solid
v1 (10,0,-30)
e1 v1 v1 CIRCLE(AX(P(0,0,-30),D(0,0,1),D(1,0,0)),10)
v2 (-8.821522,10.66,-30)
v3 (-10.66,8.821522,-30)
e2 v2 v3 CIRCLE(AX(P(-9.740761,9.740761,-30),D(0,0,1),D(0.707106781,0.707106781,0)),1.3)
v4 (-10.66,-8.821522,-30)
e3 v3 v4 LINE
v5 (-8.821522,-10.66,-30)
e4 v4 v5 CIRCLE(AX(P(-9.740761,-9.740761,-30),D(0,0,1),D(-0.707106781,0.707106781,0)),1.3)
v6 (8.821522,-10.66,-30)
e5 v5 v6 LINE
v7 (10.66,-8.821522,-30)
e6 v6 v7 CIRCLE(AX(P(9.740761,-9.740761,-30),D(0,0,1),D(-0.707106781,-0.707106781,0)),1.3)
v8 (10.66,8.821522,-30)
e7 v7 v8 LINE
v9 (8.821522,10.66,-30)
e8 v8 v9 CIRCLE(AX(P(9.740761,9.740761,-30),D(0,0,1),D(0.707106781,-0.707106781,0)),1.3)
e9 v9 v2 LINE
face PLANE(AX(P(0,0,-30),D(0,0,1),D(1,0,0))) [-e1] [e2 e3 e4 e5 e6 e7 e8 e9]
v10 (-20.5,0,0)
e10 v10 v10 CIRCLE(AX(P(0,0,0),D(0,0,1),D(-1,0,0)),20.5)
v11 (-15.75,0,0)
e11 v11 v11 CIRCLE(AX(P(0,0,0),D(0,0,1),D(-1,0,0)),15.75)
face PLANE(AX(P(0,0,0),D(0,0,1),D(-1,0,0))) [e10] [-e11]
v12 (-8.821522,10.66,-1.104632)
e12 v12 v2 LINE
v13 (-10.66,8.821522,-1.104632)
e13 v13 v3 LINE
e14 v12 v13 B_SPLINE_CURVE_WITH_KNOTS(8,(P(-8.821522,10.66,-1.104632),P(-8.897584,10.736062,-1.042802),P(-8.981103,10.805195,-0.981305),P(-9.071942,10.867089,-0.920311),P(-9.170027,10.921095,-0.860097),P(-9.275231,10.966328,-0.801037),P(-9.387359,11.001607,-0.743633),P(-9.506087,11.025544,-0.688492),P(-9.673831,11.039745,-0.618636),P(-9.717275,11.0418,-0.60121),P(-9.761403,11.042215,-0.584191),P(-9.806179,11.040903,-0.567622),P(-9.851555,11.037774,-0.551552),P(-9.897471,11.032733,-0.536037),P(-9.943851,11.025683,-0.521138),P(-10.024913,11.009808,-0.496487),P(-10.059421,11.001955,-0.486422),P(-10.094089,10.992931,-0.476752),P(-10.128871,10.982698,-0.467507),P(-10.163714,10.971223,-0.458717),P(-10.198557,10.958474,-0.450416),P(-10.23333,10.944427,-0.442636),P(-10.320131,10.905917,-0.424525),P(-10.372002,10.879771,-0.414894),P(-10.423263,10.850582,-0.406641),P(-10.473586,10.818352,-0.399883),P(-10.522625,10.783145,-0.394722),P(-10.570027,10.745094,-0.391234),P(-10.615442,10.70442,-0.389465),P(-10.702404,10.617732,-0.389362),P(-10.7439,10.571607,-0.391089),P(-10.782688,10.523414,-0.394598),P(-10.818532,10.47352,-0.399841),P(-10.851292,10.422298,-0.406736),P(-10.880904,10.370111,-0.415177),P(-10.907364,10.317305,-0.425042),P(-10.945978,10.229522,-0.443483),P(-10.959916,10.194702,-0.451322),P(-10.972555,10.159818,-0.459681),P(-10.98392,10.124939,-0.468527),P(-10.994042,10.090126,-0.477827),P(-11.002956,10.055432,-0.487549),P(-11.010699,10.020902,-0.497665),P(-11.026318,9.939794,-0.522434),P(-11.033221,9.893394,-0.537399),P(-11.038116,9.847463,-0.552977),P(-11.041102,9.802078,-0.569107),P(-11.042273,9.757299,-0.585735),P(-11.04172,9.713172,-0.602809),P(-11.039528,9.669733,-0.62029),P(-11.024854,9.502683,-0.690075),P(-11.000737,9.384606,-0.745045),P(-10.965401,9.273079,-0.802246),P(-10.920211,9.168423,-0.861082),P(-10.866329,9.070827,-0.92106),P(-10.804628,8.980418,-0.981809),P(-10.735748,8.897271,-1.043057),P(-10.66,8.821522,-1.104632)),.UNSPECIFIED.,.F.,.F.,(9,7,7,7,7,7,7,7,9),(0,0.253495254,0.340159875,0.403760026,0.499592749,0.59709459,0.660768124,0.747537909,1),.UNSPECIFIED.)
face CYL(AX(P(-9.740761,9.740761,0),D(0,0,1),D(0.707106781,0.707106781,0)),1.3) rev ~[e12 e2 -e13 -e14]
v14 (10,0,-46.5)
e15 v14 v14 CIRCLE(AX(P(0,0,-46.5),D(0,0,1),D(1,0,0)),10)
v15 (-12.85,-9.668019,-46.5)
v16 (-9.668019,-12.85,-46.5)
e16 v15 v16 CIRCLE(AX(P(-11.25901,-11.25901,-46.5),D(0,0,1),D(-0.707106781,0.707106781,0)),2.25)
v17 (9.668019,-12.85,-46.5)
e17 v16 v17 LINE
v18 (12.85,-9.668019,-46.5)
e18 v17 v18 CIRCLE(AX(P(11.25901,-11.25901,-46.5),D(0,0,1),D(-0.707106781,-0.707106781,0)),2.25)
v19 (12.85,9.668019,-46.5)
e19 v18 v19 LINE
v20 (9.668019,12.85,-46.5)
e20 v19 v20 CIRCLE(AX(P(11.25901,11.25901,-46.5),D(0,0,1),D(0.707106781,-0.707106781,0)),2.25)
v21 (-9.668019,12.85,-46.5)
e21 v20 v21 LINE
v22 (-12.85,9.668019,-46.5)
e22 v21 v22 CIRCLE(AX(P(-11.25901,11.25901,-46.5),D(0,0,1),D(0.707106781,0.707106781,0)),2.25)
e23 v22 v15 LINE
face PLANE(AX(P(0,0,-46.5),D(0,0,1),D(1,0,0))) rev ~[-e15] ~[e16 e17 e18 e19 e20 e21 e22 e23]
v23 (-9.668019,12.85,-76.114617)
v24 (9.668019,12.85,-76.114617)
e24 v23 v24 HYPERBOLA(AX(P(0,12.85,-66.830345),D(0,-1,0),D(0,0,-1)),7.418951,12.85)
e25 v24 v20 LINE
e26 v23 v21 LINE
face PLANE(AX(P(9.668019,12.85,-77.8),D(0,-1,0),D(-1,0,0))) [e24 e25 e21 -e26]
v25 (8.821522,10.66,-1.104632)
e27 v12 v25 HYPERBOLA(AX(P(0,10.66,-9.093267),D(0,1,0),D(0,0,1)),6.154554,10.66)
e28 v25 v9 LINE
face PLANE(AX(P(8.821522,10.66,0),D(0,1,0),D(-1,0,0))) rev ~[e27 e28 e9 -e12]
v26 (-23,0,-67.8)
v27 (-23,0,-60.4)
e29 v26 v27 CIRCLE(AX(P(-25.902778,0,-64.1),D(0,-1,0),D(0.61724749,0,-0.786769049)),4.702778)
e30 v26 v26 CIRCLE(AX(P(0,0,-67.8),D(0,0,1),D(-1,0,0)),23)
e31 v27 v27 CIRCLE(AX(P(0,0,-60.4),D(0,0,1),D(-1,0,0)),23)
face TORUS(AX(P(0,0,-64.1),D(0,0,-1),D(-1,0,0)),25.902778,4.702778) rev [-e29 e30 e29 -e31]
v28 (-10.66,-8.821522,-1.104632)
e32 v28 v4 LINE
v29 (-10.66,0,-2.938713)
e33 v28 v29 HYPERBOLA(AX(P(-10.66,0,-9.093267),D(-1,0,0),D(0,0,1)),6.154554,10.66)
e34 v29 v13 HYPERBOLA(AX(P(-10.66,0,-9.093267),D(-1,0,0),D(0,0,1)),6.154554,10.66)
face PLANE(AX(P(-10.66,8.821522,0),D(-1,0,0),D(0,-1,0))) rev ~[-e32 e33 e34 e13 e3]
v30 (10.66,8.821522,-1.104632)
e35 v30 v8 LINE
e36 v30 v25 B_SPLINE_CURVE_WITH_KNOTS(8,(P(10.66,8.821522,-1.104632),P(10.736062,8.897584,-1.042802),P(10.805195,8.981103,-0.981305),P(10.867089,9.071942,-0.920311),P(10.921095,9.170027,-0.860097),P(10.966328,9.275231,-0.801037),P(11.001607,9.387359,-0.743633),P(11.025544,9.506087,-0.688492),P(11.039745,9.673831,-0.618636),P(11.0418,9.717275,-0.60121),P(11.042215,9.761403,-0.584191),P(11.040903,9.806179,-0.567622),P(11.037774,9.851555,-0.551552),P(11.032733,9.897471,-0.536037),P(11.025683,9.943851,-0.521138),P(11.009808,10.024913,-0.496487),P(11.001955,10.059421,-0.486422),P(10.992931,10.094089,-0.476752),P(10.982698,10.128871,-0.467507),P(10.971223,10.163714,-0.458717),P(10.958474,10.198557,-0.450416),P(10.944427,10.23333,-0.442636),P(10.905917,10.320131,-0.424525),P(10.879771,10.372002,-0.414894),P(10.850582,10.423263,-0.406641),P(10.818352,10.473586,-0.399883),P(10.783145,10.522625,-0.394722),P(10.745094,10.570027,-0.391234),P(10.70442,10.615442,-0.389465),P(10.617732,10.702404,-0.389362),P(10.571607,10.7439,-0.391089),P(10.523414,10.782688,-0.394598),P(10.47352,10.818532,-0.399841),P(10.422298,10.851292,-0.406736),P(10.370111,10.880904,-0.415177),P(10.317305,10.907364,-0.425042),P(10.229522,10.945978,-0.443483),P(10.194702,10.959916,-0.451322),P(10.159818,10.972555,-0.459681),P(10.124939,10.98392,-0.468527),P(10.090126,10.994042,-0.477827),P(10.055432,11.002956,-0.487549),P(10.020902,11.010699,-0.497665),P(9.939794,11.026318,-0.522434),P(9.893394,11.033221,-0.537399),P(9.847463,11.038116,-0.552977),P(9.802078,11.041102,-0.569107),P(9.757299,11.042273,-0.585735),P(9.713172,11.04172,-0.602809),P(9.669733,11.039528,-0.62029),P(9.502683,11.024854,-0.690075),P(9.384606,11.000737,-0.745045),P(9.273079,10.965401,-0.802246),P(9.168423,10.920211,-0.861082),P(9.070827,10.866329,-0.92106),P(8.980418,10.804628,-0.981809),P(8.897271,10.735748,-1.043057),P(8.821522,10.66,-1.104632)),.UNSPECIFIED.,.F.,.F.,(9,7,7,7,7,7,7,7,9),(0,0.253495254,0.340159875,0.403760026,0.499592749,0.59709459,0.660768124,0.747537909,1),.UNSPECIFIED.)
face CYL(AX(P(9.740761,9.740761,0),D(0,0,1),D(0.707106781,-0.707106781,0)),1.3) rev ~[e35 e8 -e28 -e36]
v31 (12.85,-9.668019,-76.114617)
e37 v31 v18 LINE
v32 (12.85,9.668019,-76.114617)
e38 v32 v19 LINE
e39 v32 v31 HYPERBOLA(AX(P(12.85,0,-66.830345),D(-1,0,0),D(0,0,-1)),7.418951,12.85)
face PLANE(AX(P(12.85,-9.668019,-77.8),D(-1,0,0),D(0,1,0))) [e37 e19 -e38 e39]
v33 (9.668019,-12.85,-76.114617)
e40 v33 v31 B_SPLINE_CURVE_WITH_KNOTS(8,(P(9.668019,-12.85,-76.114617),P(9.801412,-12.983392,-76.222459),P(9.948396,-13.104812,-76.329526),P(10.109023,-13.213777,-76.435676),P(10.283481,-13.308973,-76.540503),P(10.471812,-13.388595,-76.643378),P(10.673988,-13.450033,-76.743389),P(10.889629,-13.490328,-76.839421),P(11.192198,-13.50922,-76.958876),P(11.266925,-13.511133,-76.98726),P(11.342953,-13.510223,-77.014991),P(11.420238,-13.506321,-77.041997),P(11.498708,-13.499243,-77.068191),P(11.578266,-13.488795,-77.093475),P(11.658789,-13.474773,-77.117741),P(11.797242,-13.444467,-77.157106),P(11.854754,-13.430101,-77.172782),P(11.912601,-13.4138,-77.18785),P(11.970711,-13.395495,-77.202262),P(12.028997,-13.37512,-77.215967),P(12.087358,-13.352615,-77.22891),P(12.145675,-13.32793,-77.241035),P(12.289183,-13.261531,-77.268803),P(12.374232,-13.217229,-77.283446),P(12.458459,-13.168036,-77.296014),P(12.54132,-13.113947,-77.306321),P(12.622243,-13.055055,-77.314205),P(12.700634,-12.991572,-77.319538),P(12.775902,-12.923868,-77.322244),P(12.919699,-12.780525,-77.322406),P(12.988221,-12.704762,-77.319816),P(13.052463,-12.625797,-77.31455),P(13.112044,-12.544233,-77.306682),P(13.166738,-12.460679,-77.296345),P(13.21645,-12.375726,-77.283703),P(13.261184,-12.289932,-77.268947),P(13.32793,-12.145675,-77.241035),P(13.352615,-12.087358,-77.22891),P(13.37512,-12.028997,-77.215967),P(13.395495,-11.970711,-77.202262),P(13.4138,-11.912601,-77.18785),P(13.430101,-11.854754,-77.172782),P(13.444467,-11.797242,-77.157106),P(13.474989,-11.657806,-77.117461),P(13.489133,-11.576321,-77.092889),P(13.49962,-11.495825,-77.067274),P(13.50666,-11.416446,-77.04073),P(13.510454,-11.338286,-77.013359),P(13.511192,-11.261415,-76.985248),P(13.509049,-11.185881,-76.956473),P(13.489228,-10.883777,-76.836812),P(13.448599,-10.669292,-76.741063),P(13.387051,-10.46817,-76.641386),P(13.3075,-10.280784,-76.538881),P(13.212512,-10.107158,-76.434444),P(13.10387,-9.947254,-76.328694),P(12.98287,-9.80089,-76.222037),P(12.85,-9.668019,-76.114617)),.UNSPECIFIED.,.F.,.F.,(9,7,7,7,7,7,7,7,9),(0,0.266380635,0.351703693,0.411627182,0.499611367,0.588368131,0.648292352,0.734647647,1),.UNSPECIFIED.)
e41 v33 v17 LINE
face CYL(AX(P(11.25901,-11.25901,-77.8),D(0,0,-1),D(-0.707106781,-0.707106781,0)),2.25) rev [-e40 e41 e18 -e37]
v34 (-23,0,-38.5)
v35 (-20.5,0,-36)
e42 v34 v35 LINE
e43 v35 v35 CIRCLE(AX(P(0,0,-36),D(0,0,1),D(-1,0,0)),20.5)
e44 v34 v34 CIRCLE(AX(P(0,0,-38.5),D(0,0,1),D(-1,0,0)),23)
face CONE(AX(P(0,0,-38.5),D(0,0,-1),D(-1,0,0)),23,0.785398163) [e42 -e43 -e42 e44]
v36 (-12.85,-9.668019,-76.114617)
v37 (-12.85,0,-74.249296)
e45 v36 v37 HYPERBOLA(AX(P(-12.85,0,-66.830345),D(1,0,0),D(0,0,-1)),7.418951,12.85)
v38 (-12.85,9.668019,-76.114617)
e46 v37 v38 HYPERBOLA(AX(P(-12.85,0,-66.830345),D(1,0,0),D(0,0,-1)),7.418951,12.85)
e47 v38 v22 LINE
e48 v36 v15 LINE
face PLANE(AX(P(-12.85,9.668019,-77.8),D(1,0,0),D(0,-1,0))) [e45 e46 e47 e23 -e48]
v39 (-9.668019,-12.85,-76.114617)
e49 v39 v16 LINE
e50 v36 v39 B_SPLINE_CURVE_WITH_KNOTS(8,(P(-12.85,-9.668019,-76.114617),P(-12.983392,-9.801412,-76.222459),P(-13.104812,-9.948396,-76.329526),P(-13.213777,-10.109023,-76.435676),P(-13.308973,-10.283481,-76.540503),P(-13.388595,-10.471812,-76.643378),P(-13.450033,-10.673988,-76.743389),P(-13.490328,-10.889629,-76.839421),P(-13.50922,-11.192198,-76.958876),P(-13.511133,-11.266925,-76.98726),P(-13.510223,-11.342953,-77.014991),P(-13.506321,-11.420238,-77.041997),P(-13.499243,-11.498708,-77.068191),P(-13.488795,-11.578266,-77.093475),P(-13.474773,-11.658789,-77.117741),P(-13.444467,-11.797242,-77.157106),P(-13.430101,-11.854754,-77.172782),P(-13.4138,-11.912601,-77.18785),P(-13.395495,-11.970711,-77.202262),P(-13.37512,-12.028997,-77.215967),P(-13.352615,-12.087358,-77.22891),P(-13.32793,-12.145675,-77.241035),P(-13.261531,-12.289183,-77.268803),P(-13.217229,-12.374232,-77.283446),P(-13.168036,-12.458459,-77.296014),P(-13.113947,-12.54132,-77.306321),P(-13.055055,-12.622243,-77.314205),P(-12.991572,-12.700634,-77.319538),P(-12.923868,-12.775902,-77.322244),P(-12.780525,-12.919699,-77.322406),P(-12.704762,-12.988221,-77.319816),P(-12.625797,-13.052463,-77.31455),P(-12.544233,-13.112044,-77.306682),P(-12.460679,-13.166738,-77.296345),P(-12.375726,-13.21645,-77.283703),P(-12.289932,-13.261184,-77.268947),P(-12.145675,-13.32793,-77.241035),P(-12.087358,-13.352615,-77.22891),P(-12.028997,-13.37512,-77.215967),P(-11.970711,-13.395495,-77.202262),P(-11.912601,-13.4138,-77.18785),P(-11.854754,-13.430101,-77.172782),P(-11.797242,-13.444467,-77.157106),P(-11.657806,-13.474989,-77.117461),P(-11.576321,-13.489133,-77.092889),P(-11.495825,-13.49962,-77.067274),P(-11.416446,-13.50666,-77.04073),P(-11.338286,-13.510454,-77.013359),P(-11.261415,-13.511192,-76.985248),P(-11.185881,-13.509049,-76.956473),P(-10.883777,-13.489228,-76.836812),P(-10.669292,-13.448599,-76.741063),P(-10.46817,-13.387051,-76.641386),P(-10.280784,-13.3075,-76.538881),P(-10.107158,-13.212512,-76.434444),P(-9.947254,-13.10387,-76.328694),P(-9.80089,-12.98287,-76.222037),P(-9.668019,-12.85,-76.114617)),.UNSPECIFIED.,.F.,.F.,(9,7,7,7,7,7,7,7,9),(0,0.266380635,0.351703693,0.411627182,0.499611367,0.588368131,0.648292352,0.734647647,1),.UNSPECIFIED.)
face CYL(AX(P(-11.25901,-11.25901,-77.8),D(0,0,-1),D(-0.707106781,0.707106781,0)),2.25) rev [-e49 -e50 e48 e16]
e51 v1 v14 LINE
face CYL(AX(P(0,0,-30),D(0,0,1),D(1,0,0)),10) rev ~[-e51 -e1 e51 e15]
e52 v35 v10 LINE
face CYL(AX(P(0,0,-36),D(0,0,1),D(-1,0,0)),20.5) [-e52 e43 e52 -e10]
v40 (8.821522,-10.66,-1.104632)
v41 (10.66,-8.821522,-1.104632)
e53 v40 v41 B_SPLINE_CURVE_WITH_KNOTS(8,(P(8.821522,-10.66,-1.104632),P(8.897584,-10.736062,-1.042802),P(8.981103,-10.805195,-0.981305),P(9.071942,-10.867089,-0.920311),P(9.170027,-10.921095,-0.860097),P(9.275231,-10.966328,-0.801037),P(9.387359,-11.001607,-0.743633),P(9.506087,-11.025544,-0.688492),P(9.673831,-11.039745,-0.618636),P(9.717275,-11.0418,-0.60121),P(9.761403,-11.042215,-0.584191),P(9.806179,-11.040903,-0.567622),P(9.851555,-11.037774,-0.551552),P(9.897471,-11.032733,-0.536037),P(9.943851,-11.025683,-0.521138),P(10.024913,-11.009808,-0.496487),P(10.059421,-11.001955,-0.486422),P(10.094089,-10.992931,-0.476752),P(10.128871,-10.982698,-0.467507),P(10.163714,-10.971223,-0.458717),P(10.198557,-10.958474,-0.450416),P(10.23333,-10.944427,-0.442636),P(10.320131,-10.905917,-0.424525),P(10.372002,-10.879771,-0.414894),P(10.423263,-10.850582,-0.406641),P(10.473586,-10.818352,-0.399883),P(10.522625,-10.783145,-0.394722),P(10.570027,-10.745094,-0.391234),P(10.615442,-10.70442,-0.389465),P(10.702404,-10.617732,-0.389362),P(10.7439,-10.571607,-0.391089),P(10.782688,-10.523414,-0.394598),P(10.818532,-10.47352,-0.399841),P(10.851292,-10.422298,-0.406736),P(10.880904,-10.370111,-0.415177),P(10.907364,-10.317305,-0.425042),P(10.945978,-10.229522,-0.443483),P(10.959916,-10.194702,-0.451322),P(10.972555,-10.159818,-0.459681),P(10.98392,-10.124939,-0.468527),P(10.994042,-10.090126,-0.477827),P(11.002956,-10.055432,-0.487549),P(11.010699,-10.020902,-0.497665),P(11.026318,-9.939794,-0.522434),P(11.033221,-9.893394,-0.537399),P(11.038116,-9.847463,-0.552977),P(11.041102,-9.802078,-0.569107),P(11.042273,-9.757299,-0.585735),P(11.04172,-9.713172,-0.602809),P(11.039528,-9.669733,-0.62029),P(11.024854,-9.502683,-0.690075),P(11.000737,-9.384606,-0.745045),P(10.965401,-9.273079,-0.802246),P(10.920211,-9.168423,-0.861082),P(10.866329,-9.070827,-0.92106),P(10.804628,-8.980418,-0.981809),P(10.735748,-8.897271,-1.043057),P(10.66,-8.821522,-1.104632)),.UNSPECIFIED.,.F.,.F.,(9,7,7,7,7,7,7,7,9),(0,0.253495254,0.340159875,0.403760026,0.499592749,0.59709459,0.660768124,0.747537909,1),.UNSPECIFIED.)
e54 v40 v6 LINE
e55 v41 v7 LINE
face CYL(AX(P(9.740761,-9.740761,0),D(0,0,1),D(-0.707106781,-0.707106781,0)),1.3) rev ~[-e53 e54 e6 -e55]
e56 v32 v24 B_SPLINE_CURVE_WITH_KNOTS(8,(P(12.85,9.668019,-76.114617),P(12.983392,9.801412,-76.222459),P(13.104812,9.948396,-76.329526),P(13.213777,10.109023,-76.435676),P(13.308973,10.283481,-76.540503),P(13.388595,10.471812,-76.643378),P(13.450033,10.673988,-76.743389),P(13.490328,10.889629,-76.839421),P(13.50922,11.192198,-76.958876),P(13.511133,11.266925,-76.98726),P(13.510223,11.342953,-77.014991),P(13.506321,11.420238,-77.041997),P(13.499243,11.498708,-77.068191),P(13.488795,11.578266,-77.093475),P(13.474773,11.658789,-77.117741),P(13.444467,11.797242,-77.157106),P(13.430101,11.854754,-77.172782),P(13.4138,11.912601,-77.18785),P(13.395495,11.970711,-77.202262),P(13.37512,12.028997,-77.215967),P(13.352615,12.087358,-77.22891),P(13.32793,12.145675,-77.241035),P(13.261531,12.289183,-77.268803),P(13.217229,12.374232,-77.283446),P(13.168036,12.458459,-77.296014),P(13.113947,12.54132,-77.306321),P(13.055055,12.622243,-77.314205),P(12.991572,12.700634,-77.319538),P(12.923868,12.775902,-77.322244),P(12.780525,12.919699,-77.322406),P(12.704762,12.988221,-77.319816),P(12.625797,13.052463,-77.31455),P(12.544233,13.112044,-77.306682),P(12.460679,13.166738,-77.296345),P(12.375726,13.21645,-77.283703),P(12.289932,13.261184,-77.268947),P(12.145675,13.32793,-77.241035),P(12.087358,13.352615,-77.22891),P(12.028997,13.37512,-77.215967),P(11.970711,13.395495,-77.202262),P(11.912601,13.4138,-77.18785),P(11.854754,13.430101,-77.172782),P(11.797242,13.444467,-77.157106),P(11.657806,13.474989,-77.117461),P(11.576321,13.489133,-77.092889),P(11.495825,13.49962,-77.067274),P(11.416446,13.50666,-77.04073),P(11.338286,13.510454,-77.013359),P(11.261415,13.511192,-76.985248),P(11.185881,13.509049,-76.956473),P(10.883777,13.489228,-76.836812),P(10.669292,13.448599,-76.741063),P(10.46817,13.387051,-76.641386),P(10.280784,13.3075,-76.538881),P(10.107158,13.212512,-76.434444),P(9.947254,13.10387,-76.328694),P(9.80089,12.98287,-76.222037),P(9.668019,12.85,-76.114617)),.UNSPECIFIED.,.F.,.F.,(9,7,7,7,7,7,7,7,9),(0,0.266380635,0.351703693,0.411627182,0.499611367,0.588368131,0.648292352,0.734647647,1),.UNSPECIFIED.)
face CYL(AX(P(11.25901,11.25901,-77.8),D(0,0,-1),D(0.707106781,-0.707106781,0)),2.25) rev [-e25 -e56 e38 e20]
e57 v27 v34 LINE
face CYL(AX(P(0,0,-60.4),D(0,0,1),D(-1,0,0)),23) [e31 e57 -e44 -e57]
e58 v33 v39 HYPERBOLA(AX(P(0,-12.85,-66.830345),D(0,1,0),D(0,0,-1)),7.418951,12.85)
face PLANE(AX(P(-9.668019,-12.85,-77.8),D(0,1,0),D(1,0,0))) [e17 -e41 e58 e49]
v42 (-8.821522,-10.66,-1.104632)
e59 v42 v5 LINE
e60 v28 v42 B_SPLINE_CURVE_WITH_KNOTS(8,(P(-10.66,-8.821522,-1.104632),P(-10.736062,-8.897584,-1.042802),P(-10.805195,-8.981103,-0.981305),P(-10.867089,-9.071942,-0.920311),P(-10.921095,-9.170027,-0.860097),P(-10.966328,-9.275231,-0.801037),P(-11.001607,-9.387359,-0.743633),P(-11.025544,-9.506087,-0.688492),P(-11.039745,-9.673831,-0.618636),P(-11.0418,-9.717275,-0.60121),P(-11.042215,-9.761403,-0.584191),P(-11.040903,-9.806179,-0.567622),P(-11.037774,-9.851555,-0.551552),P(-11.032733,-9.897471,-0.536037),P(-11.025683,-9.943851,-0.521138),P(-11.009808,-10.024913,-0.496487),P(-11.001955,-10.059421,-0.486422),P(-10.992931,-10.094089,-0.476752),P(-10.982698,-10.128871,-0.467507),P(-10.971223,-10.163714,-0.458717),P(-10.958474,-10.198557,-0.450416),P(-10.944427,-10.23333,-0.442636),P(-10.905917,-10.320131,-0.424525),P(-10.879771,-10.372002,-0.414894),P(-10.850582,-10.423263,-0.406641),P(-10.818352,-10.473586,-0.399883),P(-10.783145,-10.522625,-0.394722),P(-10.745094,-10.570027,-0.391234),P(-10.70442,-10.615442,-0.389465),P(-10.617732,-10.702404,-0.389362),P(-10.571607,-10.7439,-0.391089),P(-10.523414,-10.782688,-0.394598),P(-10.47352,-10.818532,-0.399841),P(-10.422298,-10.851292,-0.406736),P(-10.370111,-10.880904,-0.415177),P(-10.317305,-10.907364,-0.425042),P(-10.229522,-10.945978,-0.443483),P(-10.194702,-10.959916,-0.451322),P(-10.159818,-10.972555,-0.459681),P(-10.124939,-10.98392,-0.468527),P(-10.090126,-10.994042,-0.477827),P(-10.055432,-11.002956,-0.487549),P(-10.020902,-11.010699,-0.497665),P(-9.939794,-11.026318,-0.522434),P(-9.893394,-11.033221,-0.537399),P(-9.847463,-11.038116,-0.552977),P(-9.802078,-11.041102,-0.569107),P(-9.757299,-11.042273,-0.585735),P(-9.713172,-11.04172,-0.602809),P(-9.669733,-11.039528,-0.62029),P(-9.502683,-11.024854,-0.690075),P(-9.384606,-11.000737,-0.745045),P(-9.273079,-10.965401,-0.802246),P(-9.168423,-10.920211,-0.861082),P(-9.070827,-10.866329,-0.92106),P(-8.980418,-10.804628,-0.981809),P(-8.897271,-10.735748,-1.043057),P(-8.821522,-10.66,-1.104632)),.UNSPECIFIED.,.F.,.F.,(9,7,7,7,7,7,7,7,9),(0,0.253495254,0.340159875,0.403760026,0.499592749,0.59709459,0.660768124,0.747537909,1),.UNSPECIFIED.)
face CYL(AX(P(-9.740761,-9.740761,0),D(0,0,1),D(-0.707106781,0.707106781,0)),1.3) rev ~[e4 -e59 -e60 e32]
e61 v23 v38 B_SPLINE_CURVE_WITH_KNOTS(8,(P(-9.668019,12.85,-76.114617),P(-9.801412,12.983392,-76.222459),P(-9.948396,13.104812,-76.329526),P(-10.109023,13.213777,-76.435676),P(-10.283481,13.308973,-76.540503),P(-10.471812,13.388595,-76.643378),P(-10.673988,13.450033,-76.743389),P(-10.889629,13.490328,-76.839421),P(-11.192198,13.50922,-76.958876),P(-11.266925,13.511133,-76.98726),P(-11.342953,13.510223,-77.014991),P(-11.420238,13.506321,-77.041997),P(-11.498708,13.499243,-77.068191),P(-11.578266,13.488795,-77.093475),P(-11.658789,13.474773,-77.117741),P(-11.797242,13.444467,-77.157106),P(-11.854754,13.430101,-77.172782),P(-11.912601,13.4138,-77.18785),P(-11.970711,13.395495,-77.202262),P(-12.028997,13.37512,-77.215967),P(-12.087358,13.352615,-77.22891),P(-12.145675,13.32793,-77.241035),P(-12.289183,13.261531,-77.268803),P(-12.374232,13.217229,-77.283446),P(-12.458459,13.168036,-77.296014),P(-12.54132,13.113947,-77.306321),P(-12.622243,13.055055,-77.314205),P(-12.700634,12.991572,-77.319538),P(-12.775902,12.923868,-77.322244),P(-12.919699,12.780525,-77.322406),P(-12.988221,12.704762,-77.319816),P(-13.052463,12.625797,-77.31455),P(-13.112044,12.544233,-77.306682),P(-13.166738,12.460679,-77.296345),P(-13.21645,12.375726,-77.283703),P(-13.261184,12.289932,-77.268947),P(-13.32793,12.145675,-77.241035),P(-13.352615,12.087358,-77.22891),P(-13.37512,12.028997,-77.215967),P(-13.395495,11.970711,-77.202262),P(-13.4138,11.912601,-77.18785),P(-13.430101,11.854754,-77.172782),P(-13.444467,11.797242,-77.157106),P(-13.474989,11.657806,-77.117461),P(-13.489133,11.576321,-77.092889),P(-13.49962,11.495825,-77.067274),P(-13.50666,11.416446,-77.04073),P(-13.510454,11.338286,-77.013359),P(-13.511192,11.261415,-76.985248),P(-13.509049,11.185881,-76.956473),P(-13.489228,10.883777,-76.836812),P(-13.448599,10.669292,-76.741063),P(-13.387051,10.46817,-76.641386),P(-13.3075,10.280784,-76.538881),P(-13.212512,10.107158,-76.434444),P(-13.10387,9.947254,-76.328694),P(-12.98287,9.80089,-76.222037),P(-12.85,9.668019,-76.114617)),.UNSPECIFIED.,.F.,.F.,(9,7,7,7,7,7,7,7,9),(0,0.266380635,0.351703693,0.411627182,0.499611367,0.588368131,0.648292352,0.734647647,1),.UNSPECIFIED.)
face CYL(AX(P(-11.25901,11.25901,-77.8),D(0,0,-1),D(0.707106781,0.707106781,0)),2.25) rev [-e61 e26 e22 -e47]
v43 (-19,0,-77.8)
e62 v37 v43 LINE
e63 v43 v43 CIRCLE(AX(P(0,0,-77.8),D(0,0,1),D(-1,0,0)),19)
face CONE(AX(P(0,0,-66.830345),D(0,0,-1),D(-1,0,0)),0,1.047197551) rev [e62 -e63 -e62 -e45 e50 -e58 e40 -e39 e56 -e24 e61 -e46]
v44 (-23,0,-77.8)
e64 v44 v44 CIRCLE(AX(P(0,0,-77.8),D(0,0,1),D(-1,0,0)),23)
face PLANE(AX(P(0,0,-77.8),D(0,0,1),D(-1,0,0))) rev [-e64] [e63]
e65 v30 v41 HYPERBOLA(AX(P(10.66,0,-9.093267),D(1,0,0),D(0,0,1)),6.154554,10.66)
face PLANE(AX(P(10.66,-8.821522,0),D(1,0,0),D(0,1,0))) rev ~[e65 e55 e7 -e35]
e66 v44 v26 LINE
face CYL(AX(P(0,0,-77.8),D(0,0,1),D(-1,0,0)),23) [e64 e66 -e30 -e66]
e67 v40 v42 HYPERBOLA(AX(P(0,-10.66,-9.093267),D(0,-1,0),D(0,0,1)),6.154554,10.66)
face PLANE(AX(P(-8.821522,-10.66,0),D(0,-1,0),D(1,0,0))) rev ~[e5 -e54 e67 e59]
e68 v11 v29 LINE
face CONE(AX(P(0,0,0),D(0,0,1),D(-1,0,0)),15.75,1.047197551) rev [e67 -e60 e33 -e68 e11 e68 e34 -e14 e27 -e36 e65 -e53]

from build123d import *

# Parameters (mm, degrees)
CUT_EXTRUDE1_DEPTH = 30
SKETCH3_R          = 10
CUT_EXTRUDE2_DEPTH = 30
CUT_EXTRUDE3_DEPTH = 31.3


with BuildPart() as part:
    # Sketch1 → Revolve1 (revolve)
    with BuildSketch(Plane(origin=(0, 0, 0), x_dir=(0, 0, -1), z_dir=(1, 0, 0)), mode=Mode.PRIVATE) as revolve1_sk:
        with BuildLine():
            Line((0, 20.5), (0, 15.75))
            Line((0, 15.75), (9.09326674, 0))
            Line((9.09326674, 0), (66.830344885, 0))
            Line((66.830344885, 0), (77.8, 19))
            Line((77.8, 19), (77.8, 23))
            Line((77.8, 23), (67.8, 23))
            ThreePointArc((67.8, 23), (64.1, 21.2), (60.4, 23))
            Line((60.4, 23), (38.5, 23))
            Line((38.5, 23), (36, 20.5))
            Line((36, 20.5), (0, 20.5))
        make_face()
    revolve(revolve1_sk.sketch.rotate(Axis((0, 0, 0), (0, 0, 1)), 90), axis=Axis((0, 0, 0), (0, 0, 1)))

    # Sketch2 → Cut-Extrude1 (cut)
    with BuildSketch(Plane.XY):
        with BuildLine():
            Line((-10.66, 8.821522369), (-10.66, -8.821522369))
            ThreePointArc((-10.66, -8.821522369), (-10.66, -10.66), (-8.821522369, -10.66))
            Line((-8.821522369, -10.66), (8.821522369, -10.66))
            ThreePointArc((8.821522369, -10.66), (10.66, -10.66), (10.66, -8.821522369))
            Line((10.66, -8.821522369), (10.66, 8.821522369))
            ThreePointArc((10.66, 8.821522369), (10.66, 10.66), (8.821522369, 10.66))
            Line((8.821522369, 10.66), (-8.821522369, 10.66))
            ThreePointArc((-8.821522369, 10.66), (-10.66, 10.66), (-10.66, 8.821522369))
        make_face()
    extrude(amount=-CUT_EXTRUDE1_DEPTH, mode=Mode.SUBTRACT)

    # Sketch3 → Cut-Extrude2 (cut)
    with BuildSketch(Plane.XY.offset(-30)):
        Circle(SKETCH3_R)
    extrude(amount=-CUT_EXTRUDE2_DEPTH, mode=Mode.SUBTRACT)

    # Sketch4 → Cut-Extrude3 (cut)
    with BuildSketch(Plane(origin=(0, 0, -77.8), x_dir=(-1, 0, 0), z_dir=(0, 0, -1))):
        with BuildLine():
            Line((-12.85, -9.668019485), (-12.85, 9.668019485))
            ThreePointArc((-12.85, 9.668019485), (-12.85, 12.85), (-9.668019485, 12.85))
            Line((-9.668019485, 12.85), (9.668019485, 12.85))
            ThreePointArc((9.668019485, 12.85), (12.85, 12.85), (12.85, 9.668019485))
            Line((12.85, 9.668019485), (12.85, -9.668019485))
            ThreePointArc((12.85, -9.668019485), (12.85, -12.85), (9.668019485, -12.85))
            Line((9.668019485, -12.85), (-9.668019485, -12.85))
            ThreePointArc((-9.668019485, -12.85), (-12.85, -12.85), (-12.85, -9.668019485))
        make_face()
    extrude(amount=-CUT_EXTRUDE3_DEPTH, mode=Mode.SUBTRACT)


solid = part.part
